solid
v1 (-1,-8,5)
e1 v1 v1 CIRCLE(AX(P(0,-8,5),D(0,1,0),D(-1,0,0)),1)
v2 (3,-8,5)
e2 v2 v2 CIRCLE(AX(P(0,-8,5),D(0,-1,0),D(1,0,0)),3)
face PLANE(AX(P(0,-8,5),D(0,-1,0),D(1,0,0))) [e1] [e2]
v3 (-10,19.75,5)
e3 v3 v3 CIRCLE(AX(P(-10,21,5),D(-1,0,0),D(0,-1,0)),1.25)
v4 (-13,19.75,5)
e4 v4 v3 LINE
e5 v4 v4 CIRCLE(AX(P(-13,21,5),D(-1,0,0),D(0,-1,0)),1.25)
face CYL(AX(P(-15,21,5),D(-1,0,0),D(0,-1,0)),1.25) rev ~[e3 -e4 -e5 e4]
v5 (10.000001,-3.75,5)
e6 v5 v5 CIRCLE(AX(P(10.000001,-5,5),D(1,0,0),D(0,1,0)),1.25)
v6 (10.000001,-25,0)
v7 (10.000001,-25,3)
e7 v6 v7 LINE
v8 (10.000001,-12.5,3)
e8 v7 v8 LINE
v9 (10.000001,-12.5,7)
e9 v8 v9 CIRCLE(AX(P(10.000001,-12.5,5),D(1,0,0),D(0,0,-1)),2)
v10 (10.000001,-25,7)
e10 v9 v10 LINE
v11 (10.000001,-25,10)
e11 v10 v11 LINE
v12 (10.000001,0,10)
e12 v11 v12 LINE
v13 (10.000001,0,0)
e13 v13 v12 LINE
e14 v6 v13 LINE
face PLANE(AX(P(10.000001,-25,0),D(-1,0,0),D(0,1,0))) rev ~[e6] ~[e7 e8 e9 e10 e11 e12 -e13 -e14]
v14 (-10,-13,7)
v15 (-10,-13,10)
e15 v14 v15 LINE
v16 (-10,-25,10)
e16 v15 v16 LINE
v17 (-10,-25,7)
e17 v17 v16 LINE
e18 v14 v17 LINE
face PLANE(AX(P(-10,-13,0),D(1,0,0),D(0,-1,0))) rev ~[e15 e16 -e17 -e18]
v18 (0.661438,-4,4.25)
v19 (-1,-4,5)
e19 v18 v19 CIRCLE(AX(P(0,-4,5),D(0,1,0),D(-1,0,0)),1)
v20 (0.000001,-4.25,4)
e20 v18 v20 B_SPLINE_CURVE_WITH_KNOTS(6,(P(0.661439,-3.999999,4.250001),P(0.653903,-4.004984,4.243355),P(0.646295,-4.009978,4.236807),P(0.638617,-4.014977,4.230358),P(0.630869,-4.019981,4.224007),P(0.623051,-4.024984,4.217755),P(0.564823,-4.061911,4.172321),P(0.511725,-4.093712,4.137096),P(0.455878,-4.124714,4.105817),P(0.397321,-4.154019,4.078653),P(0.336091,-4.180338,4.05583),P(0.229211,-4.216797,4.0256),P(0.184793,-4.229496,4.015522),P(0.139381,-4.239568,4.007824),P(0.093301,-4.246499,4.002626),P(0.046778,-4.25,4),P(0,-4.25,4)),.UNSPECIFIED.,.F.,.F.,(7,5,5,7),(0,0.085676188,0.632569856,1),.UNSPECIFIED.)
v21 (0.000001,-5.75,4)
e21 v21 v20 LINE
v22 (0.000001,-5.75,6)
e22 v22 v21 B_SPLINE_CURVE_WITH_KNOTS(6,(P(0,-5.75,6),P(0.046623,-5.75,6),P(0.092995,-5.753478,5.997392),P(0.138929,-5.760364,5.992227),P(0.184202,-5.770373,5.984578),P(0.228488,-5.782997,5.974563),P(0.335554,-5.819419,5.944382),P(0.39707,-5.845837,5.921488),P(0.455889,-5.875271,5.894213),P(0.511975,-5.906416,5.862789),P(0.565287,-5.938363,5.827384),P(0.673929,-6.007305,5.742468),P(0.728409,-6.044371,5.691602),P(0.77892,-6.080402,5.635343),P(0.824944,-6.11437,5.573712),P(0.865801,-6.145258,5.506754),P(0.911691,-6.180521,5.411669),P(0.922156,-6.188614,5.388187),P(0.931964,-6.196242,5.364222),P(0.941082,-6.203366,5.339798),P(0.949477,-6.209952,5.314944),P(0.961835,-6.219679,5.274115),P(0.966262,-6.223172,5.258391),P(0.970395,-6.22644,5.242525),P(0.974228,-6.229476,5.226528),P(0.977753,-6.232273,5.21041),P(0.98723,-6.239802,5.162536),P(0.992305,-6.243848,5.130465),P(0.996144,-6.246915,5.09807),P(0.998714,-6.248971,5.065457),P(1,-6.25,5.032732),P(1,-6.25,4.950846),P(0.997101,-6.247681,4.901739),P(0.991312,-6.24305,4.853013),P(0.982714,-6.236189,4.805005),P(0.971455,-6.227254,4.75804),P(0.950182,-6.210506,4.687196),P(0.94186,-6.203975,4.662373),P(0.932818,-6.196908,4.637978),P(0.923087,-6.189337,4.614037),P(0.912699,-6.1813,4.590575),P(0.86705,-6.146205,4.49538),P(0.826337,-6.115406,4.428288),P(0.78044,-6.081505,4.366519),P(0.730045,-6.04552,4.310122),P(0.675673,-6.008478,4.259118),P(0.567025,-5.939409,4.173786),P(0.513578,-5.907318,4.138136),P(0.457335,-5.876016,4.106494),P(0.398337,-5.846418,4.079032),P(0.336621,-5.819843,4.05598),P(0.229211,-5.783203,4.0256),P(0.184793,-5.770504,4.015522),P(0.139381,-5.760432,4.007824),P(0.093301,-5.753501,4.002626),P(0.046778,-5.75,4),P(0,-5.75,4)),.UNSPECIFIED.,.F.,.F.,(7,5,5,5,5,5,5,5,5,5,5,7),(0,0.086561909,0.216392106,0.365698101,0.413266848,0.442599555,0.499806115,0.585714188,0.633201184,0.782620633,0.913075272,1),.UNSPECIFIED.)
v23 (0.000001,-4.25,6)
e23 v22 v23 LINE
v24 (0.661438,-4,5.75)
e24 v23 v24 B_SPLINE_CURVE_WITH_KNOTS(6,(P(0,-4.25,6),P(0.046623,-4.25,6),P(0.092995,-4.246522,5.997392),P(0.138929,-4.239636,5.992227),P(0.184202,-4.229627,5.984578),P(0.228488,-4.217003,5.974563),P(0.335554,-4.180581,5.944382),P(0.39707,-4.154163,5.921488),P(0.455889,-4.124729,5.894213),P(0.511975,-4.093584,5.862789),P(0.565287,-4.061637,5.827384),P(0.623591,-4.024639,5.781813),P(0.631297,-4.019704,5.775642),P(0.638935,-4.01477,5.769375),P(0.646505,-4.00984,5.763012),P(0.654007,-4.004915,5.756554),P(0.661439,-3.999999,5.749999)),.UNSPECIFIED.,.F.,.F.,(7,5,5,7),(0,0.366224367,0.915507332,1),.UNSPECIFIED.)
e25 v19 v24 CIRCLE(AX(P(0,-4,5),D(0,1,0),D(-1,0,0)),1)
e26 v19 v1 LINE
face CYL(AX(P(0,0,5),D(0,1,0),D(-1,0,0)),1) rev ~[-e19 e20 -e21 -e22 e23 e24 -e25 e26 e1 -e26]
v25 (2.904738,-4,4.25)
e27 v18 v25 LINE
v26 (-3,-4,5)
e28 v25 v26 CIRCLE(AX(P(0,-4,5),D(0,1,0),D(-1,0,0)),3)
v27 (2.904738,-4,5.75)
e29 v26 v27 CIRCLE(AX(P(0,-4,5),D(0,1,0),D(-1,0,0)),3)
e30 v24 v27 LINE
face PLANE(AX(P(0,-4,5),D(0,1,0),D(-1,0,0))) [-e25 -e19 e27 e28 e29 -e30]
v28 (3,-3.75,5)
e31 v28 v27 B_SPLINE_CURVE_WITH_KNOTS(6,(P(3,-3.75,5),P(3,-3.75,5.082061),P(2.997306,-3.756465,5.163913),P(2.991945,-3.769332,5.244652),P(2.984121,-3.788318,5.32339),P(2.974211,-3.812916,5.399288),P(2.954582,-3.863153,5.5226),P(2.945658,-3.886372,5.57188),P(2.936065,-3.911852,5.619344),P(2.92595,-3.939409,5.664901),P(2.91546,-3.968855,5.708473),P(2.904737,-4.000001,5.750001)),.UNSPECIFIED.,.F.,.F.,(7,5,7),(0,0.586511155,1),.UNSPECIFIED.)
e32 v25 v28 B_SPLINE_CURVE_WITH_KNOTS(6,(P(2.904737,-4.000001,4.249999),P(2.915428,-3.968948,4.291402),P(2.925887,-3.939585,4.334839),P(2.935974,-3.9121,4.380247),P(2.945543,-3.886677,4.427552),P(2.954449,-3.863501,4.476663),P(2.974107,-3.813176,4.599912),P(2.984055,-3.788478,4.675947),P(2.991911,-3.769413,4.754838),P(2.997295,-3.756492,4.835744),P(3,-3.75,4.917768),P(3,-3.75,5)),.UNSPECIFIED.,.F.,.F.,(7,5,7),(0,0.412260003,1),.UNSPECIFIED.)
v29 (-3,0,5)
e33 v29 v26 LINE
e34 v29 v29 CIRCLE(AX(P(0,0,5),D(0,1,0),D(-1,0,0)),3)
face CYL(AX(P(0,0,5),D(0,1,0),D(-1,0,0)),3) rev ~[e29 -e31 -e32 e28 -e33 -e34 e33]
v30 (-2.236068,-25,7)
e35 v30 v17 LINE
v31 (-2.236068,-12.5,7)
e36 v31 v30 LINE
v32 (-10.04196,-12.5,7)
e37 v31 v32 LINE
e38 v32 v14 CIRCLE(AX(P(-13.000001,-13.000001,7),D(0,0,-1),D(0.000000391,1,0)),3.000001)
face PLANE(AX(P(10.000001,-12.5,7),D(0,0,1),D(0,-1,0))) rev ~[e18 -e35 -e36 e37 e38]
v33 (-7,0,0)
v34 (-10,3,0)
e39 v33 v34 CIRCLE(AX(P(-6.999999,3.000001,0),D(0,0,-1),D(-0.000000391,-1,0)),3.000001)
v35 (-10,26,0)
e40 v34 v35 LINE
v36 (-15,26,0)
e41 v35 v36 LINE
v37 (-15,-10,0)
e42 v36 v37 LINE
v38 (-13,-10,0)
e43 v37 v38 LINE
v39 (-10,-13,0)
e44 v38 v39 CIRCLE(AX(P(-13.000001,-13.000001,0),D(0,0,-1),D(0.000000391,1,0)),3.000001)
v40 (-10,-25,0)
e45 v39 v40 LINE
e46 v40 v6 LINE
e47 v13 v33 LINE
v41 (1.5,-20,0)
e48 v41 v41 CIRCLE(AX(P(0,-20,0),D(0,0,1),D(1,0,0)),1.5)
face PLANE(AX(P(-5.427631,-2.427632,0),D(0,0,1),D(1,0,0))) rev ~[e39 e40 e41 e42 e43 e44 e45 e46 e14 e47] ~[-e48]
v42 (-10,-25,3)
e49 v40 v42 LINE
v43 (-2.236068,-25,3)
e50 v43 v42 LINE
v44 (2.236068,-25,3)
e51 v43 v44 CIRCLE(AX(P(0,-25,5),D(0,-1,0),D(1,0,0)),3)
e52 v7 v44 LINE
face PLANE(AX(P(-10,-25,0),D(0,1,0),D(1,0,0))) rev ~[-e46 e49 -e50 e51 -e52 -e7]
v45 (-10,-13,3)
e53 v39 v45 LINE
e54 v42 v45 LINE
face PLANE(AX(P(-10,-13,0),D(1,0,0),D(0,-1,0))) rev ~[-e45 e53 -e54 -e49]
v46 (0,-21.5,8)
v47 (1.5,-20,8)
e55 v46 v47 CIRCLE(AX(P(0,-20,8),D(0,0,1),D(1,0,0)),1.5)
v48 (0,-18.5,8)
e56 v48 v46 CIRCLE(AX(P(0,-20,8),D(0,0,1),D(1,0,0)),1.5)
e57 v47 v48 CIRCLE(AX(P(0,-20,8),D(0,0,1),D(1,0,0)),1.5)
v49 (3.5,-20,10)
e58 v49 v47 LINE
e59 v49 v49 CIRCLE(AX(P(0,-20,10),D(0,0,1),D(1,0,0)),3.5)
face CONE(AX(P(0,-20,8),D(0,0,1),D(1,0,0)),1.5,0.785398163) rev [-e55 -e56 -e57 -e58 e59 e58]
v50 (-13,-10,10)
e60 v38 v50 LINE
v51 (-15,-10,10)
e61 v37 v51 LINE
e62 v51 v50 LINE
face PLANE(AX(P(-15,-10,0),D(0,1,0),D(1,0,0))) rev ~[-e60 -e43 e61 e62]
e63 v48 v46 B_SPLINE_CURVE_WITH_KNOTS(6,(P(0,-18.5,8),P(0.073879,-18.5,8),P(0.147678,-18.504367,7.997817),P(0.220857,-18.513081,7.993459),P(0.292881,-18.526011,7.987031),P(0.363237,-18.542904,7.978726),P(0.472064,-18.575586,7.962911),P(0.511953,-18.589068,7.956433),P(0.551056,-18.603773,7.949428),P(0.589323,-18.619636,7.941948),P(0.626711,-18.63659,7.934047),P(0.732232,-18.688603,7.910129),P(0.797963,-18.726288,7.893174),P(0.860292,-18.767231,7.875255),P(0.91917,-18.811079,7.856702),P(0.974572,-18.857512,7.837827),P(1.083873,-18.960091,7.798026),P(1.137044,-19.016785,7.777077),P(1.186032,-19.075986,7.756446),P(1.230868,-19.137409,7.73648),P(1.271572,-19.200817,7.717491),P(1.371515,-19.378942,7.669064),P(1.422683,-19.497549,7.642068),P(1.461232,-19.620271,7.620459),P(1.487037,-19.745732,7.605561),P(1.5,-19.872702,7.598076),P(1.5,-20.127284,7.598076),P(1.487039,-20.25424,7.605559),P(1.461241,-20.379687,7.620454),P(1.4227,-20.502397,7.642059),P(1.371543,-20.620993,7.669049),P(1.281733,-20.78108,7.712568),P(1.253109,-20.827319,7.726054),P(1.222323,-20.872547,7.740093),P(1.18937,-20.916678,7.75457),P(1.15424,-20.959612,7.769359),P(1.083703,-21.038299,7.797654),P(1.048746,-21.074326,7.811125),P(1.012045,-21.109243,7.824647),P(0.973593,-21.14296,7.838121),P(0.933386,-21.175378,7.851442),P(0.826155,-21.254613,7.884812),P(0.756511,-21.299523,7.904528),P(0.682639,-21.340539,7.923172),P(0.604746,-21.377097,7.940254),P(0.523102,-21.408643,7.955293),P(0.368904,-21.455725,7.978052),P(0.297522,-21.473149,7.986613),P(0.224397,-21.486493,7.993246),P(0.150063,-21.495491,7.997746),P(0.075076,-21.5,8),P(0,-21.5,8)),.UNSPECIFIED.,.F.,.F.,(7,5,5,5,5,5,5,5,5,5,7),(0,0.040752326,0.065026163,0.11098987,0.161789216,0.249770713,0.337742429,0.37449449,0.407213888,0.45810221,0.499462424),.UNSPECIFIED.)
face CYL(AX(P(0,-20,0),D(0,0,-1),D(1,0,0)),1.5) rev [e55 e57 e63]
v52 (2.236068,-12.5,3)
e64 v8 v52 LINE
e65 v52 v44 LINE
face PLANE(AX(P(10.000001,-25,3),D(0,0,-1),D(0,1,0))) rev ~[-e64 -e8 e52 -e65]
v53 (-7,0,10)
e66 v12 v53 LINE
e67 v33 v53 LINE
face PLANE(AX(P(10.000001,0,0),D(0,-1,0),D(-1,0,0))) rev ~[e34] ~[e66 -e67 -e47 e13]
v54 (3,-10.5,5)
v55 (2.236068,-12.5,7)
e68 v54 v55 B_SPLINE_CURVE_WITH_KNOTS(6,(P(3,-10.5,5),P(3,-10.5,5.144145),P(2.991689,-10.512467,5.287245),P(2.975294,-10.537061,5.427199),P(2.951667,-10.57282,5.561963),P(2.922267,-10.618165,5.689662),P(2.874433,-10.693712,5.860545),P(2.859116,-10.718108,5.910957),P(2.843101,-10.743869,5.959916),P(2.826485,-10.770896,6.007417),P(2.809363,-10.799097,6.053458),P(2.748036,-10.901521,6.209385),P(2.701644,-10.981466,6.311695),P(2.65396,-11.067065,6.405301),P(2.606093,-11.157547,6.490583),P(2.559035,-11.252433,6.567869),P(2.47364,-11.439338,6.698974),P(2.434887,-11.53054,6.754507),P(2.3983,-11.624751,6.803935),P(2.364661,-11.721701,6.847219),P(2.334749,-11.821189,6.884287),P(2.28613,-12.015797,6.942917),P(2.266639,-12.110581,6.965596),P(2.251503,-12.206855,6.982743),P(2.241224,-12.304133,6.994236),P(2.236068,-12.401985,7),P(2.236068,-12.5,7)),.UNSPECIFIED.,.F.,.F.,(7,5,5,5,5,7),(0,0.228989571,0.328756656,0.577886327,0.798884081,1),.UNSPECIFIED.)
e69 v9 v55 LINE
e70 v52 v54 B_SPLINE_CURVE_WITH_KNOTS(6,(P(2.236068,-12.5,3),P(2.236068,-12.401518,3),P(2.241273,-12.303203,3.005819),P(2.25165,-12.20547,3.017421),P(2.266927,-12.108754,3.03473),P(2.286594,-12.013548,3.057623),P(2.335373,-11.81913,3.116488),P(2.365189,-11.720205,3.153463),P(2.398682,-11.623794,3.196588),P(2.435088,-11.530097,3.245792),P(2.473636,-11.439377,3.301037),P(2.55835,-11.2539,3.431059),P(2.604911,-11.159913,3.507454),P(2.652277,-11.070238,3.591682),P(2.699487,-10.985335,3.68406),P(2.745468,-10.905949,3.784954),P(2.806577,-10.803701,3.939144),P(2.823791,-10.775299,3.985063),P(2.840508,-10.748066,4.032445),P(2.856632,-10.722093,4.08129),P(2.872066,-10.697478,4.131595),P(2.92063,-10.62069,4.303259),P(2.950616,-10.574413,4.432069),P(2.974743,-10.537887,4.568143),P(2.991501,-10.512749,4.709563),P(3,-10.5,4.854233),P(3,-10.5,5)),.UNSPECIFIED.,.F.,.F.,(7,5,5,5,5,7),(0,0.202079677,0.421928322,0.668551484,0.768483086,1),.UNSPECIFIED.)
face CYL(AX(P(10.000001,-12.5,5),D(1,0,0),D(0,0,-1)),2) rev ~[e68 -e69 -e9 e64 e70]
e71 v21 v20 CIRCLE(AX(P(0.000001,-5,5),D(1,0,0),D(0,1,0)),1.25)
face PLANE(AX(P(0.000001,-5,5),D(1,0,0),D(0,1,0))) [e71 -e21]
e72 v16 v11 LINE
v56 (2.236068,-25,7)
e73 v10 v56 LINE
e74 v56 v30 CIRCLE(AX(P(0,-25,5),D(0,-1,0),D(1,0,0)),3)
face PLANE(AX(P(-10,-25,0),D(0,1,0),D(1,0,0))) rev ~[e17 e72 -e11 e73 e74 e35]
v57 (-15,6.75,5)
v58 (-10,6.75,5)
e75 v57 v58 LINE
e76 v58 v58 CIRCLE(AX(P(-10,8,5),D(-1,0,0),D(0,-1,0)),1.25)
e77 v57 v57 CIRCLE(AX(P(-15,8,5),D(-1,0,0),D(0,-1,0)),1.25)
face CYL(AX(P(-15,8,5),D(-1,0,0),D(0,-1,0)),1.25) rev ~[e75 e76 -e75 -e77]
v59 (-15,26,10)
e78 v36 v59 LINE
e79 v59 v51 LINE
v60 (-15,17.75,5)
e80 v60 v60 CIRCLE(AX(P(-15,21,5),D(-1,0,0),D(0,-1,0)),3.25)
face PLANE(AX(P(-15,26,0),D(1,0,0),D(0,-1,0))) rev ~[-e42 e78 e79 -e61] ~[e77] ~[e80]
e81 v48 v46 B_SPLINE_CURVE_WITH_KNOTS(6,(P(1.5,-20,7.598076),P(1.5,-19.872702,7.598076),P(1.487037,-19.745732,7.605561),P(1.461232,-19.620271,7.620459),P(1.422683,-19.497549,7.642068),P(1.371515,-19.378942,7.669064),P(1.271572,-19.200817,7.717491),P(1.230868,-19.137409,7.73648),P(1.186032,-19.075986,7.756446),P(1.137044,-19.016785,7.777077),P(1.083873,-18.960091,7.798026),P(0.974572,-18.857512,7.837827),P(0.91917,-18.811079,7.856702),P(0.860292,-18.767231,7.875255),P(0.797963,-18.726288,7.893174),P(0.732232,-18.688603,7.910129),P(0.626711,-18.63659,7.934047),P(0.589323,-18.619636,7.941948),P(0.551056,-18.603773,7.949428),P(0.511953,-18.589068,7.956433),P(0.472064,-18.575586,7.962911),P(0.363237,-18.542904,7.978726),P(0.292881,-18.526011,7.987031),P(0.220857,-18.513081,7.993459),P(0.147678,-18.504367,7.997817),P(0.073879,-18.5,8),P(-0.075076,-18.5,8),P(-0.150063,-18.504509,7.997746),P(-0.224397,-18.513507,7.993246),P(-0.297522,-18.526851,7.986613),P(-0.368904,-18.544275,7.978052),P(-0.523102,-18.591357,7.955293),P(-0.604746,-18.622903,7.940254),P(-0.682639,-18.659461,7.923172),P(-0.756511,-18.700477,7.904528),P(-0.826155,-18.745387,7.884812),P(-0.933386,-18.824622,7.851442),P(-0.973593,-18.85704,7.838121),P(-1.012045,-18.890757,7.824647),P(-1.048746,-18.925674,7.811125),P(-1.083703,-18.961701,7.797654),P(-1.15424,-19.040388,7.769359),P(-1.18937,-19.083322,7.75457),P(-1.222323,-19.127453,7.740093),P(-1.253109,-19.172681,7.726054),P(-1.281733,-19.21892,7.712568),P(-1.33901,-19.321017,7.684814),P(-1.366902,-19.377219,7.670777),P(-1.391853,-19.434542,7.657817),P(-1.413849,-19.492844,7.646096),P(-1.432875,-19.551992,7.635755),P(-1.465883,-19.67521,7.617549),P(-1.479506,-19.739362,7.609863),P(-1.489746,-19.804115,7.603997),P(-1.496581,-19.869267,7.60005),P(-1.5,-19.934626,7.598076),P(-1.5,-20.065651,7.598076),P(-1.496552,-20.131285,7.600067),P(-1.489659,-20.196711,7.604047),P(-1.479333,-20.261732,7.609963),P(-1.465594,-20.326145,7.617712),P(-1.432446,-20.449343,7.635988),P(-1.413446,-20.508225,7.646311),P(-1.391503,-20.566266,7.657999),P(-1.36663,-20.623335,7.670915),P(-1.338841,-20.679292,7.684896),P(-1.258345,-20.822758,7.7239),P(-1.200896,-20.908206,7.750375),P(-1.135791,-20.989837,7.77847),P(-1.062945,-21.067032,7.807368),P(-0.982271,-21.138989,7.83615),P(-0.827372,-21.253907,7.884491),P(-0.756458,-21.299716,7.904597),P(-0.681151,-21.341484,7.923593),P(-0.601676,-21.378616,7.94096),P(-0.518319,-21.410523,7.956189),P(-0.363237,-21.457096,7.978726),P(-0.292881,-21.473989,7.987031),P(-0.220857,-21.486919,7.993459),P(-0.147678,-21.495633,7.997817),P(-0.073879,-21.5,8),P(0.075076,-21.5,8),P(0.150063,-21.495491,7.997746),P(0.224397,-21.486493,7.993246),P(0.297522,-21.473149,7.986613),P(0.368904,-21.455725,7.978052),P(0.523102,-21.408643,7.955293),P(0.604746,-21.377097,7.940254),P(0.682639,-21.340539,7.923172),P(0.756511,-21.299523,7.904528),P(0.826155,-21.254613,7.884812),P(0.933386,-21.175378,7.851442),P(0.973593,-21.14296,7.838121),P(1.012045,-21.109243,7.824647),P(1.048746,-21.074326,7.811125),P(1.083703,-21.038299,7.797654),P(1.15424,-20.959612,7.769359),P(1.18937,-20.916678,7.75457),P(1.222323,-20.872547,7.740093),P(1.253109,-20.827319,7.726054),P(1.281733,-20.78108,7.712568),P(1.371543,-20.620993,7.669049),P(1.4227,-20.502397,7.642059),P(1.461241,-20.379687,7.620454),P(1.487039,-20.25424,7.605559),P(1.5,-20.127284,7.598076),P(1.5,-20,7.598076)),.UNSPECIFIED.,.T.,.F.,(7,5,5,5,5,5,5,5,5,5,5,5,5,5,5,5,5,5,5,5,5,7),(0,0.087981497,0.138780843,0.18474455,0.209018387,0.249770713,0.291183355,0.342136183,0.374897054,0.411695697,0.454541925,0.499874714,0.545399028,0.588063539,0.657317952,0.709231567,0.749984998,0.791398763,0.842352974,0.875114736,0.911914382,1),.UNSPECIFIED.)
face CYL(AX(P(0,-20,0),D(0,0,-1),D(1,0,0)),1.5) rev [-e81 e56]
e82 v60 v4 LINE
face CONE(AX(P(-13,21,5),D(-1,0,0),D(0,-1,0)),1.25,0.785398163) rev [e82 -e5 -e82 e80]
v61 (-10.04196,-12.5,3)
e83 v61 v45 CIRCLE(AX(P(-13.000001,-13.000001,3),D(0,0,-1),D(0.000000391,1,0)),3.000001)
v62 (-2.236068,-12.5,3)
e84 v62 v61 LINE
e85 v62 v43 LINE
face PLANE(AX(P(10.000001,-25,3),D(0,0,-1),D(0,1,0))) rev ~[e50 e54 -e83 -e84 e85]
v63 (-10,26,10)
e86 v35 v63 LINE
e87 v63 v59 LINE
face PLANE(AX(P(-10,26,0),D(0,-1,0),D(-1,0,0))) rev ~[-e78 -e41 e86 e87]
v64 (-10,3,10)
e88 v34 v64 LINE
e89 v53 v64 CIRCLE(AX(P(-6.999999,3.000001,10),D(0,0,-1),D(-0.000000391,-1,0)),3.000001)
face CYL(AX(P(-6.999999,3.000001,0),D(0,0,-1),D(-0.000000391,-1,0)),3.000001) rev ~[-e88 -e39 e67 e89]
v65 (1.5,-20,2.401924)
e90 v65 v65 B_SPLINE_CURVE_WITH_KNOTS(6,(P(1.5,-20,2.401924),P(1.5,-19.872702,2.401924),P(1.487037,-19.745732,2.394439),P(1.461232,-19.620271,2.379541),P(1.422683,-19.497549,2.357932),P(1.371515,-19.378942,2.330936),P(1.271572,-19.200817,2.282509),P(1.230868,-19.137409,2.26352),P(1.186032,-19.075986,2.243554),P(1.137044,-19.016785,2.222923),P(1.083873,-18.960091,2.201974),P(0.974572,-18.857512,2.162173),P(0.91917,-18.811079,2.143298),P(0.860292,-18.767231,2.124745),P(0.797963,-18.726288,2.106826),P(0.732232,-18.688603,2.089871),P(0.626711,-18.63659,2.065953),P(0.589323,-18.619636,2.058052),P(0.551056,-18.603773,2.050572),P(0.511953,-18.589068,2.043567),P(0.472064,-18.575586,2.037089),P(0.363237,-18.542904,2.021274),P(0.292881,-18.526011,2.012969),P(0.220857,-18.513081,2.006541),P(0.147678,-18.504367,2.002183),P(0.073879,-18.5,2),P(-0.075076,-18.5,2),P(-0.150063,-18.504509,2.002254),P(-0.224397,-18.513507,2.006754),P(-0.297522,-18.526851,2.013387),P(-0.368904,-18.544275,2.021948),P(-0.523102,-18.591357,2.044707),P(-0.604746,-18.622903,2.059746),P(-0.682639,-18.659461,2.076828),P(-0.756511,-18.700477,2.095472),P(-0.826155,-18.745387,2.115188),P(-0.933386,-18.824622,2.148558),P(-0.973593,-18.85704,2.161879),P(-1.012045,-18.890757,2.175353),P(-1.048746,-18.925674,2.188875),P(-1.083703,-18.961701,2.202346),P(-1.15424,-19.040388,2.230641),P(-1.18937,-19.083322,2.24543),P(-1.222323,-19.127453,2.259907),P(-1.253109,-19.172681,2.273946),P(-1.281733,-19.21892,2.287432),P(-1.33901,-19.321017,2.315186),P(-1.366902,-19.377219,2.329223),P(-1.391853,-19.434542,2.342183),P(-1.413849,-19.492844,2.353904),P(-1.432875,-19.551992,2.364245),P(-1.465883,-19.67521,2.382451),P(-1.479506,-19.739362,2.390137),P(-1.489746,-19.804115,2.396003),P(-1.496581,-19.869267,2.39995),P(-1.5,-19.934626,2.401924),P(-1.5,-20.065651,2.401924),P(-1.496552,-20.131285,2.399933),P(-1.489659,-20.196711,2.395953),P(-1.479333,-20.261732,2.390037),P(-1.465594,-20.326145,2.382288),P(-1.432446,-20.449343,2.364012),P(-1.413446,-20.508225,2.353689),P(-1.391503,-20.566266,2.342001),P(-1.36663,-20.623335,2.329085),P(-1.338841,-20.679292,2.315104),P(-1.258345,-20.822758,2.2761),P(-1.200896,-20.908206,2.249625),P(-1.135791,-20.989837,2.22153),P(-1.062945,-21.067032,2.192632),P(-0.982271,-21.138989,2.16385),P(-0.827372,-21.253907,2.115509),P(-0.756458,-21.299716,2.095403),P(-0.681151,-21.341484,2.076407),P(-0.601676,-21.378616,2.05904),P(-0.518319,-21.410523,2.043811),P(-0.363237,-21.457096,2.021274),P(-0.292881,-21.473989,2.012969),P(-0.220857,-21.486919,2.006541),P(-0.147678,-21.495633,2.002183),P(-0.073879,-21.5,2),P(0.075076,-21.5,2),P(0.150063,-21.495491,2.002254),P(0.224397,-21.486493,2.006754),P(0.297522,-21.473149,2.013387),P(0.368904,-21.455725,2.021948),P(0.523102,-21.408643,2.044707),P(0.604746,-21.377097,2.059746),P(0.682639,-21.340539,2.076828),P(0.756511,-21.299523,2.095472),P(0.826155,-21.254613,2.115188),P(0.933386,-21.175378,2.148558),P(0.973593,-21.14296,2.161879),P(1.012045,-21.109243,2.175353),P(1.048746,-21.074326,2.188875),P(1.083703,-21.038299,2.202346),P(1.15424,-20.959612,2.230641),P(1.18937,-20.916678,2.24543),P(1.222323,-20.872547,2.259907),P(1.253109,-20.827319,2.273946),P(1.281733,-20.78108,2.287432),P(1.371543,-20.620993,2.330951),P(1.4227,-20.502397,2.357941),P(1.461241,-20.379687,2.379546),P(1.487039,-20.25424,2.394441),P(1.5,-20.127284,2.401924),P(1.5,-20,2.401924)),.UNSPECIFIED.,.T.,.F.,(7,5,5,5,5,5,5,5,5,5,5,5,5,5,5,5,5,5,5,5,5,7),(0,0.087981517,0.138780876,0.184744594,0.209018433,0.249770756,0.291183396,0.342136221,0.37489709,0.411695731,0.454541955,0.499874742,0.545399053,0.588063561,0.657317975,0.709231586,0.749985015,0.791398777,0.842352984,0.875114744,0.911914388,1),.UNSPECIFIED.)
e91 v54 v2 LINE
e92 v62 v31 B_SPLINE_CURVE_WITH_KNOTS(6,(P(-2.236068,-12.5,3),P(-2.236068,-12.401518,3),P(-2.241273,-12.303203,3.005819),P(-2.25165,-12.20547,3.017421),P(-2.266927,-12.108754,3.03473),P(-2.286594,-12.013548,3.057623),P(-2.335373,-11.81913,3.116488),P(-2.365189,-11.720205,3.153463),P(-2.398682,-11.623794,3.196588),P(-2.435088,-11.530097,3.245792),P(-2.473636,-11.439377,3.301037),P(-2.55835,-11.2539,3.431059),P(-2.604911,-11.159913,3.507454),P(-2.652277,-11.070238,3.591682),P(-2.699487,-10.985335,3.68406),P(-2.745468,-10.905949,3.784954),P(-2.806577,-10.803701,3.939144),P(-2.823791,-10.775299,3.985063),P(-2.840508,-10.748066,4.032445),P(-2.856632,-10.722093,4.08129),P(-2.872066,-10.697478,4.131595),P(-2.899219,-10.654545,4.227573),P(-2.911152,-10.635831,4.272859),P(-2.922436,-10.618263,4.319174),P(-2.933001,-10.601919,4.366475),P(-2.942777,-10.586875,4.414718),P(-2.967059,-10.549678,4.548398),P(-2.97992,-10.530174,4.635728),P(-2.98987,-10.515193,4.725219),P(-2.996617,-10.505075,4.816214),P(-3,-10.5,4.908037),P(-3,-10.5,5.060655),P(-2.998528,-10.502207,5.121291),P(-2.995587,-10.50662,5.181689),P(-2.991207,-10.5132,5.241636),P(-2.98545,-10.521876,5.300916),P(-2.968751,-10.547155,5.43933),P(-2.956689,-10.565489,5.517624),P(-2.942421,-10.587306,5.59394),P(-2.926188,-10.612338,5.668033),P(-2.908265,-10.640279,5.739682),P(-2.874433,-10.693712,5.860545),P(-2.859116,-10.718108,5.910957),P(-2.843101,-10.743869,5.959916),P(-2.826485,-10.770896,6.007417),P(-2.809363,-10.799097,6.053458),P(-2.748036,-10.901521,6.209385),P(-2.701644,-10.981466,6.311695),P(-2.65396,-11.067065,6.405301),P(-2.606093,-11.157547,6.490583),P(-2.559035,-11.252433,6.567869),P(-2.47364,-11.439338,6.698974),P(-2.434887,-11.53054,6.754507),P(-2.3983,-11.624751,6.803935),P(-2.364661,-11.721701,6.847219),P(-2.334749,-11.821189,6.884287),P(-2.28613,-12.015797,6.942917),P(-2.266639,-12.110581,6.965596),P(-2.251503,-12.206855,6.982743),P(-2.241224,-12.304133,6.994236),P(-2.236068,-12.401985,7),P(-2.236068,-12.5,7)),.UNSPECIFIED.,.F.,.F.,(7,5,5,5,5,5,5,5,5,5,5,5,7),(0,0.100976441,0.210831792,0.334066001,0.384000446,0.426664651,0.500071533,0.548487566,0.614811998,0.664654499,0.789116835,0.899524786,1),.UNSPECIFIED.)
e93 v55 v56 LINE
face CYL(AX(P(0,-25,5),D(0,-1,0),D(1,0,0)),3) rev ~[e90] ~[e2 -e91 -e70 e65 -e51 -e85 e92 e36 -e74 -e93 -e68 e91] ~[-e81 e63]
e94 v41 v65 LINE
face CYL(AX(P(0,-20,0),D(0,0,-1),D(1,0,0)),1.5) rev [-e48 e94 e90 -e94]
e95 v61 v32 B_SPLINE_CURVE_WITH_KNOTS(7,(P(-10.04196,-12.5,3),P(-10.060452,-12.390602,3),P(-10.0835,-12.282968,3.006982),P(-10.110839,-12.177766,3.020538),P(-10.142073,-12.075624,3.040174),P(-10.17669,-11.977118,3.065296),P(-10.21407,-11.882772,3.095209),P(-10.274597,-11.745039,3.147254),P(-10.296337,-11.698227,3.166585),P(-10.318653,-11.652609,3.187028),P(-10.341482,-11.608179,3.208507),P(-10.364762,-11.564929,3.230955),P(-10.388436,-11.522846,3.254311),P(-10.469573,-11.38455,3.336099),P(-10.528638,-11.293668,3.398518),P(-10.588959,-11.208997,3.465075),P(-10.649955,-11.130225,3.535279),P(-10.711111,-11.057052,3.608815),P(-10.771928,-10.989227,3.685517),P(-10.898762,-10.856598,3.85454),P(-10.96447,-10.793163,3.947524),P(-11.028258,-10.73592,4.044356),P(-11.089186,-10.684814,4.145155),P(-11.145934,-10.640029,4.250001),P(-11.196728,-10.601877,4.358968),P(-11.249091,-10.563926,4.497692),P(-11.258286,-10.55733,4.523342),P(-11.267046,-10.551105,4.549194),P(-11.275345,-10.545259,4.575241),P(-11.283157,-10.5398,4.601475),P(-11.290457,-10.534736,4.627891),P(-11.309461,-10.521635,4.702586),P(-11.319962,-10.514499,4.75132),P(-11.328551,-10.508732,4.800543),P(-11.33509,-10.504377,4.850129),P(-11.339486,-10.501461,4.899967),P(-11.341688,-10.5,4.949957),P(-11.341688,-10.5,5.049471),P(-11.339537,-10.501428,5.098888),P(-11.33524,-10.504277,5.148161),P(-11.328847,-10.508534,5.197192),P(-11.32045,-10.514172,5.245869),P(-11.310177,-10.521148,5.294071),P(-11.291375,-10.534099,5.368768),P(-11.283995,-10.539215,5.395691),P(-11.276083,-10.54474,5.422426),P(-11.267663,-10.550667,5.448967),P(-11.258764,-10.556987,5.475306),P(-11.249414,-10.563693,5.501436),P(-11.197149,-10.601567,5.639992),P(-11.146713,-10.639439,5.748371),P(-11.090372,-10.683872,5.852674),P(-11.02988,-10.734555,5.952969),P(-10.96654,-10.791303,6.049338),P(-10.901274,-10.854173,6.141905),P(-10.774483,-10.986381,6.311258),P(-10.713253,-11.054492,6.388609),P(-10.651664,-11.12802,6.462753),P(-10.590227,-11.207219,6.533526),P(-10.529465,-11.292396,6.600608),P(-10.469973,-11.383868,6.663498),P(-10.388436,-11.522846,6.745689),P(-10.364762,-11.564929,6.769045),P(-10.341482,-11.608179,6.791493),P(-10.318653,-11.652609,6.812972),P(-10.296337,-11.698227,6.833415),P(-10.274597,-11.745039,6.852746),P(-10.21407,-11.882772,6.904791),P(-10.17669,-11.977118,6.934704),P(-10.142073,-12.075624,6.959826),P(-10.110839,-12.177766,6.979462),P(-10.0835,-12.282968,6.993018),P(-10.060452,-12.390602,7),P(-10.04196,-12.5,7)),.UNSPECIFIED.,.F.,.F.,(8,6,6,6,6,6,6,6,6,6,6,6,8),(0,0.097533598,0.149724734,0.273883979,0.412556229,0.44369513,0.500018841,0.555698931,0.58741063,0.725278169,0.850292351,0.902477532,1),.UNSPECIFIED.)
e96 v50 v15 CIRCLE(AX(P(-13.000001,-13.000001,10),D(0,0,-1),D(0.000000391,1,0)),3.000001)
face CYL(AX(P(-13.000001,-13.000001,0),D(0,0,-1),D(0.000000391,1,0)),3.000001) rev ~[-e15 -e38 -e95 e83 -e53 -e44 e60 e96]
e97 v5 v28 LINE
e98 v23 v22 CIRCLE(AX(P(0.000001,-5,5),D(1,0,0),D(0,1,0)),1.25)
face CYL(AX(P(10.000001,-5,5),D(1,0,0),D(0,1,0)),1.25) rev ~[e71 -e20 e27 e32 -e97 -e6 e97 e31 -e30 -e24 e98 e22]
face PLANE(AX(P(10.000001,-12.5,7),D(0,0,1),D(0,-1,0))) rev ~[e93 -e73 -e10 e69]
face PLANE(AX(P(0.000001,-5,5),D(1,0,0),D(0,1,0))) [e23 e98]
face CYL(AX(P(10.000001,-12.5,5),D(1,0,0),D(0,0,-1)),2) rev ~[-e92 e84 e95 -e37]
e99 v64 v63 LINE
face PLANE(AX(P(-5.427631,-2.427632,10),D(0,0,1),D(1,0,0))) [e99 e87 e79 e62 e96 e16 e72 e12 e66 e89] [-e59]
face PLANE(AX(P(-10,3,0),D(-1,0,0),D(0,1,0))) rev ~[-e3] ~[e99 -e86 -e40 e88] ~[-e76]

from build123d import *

# Parameters (mm, degrees)
F0_R      = 1.5
F1_DEPTH  = 10
F3_DEPTH  = 25.001001
F4_R      = 1.25
F5_DEPTH  = 25.001001
F6_R      = 1
F7_DEPTH  = 25.001
F6_R_2    = 3
F8_DEPTH  = 4
F2_R      = 1.25
F9_DEPTH  = 10
F10_SIZE  = 2
F11_R     = 3
F12_DEPTH = 17


with BuildPart() as f1:
    # F0 (on Top) → F1 (new body)
    with BuildSketch(Plane.XY):
        Polygon((10.000001, -25), (10.000001, 0), (-7, 0), (-10, 0), (-10, 3), (-10, 26), (-15, 26), (-15, -10), (-13, -10), (-10, -10), (-10, -13), (-10, -25), align=None)
        with Locations((0, -20)):
            Circle(F0_R, mode=Mode.SUBTRACT)
        with BuildLine():
            ThreePointArc((-13, -10), (-10.87868, -10.87868), (-10, -13))
            Line((-10, -13), (-10, -10))
            Line((-10, -10), (-13, -10))
        make_face()
        with BuildLine():
            Line((-10, 0), (-7, 0))
            ThreePointArc((-7, 0), (-9.12132, 0.87868), (-10, 3))
            Line((-10, 3), (-10, 0))
        make_face()
    extrude(amount=F1_DEPTH)

    # F2 (on face) → F3 (cut, through all)
    with BuildSketch(Plane.YZ.offset(10.000001)):
        with BuildLine():
            Line((-12.5, 7), (-25, 7))
            Line((-25, 7), (-25, 3))
            Line((-25, 3), (-12.5, 3))
            ThreePointArc((-12.5, 3), (-10.5, 5), (-12.5, 7))
        make_face()
    extrude(amount=-F3_DEPTH, mode=Mode.SUBTRACT)

    # F4 (on face) → F5 (cut, through all)
    with BuildSketch(Plane(origin=(-15, 0, 0), x_dir=(0, -1, 0), z_dir=(-1, 0, 0))):
        with Locations((-8, 5)):
            Circle(F4_R)
        with Locations((-21, 5)):
            Circle(F4_R)
    extrude(amount=-F5_DEPTH, mode=Mode.SUBTRACT)

    # F6 (on face) → F7 (cut, through all)
    with BuildSketch(Plane(origin=(0, 0, 0), x_dir=(-1, 0, 0), z_dir=(0, 1, 0))):
        with Locations((0, 5)):
            Circle(F6_R)
    extrude(amount=-F7_DEPTH, mode=Mode.SUBTRACT)

    # F6 (on face) → F8 (cut)
    with BuildSketch(Plane(origin=(0, 0, 0), x_dir=(-1, 0, 0), z_dir=(0, 1, 0))):
        with Locations((0, 5)):
            Circle(F6_R_2)
        with Locations((0, 5)):
            Circle(F6_R, mode=Mode.SUBTRACT)
    extrude(amount=-F8_DEPTH, mode=Mode.SUBTRACT)

    # F2 (on face) → F9 (cut)
    with BuildSketch(Plane.YZ.offset(10.000001)):
        with Locations((-5, 5)):
            Circle(F2_R)
    extrude(amount=-F9_DEPTH, mode=Mode.SUBTRACT)

    # F10
    f10_edges = [f1.edges().sort_by_distance(p)[0] for p in [
        (-1.5, -20, 10),
        (-15, 22.25, 5),
    ]]
    chamfer(f10_edges, length=F10_SIZE)

    # F11 (on face) → F12 (cut)
    with BuildSketch(Plane.XZ.offset(25)):
        with Locations((0, 5)):
            Circle(F11_R)
    extrude(amount=-F12_DEPTH, mode=Mode.SUBTRACT)


solid = f1.part
